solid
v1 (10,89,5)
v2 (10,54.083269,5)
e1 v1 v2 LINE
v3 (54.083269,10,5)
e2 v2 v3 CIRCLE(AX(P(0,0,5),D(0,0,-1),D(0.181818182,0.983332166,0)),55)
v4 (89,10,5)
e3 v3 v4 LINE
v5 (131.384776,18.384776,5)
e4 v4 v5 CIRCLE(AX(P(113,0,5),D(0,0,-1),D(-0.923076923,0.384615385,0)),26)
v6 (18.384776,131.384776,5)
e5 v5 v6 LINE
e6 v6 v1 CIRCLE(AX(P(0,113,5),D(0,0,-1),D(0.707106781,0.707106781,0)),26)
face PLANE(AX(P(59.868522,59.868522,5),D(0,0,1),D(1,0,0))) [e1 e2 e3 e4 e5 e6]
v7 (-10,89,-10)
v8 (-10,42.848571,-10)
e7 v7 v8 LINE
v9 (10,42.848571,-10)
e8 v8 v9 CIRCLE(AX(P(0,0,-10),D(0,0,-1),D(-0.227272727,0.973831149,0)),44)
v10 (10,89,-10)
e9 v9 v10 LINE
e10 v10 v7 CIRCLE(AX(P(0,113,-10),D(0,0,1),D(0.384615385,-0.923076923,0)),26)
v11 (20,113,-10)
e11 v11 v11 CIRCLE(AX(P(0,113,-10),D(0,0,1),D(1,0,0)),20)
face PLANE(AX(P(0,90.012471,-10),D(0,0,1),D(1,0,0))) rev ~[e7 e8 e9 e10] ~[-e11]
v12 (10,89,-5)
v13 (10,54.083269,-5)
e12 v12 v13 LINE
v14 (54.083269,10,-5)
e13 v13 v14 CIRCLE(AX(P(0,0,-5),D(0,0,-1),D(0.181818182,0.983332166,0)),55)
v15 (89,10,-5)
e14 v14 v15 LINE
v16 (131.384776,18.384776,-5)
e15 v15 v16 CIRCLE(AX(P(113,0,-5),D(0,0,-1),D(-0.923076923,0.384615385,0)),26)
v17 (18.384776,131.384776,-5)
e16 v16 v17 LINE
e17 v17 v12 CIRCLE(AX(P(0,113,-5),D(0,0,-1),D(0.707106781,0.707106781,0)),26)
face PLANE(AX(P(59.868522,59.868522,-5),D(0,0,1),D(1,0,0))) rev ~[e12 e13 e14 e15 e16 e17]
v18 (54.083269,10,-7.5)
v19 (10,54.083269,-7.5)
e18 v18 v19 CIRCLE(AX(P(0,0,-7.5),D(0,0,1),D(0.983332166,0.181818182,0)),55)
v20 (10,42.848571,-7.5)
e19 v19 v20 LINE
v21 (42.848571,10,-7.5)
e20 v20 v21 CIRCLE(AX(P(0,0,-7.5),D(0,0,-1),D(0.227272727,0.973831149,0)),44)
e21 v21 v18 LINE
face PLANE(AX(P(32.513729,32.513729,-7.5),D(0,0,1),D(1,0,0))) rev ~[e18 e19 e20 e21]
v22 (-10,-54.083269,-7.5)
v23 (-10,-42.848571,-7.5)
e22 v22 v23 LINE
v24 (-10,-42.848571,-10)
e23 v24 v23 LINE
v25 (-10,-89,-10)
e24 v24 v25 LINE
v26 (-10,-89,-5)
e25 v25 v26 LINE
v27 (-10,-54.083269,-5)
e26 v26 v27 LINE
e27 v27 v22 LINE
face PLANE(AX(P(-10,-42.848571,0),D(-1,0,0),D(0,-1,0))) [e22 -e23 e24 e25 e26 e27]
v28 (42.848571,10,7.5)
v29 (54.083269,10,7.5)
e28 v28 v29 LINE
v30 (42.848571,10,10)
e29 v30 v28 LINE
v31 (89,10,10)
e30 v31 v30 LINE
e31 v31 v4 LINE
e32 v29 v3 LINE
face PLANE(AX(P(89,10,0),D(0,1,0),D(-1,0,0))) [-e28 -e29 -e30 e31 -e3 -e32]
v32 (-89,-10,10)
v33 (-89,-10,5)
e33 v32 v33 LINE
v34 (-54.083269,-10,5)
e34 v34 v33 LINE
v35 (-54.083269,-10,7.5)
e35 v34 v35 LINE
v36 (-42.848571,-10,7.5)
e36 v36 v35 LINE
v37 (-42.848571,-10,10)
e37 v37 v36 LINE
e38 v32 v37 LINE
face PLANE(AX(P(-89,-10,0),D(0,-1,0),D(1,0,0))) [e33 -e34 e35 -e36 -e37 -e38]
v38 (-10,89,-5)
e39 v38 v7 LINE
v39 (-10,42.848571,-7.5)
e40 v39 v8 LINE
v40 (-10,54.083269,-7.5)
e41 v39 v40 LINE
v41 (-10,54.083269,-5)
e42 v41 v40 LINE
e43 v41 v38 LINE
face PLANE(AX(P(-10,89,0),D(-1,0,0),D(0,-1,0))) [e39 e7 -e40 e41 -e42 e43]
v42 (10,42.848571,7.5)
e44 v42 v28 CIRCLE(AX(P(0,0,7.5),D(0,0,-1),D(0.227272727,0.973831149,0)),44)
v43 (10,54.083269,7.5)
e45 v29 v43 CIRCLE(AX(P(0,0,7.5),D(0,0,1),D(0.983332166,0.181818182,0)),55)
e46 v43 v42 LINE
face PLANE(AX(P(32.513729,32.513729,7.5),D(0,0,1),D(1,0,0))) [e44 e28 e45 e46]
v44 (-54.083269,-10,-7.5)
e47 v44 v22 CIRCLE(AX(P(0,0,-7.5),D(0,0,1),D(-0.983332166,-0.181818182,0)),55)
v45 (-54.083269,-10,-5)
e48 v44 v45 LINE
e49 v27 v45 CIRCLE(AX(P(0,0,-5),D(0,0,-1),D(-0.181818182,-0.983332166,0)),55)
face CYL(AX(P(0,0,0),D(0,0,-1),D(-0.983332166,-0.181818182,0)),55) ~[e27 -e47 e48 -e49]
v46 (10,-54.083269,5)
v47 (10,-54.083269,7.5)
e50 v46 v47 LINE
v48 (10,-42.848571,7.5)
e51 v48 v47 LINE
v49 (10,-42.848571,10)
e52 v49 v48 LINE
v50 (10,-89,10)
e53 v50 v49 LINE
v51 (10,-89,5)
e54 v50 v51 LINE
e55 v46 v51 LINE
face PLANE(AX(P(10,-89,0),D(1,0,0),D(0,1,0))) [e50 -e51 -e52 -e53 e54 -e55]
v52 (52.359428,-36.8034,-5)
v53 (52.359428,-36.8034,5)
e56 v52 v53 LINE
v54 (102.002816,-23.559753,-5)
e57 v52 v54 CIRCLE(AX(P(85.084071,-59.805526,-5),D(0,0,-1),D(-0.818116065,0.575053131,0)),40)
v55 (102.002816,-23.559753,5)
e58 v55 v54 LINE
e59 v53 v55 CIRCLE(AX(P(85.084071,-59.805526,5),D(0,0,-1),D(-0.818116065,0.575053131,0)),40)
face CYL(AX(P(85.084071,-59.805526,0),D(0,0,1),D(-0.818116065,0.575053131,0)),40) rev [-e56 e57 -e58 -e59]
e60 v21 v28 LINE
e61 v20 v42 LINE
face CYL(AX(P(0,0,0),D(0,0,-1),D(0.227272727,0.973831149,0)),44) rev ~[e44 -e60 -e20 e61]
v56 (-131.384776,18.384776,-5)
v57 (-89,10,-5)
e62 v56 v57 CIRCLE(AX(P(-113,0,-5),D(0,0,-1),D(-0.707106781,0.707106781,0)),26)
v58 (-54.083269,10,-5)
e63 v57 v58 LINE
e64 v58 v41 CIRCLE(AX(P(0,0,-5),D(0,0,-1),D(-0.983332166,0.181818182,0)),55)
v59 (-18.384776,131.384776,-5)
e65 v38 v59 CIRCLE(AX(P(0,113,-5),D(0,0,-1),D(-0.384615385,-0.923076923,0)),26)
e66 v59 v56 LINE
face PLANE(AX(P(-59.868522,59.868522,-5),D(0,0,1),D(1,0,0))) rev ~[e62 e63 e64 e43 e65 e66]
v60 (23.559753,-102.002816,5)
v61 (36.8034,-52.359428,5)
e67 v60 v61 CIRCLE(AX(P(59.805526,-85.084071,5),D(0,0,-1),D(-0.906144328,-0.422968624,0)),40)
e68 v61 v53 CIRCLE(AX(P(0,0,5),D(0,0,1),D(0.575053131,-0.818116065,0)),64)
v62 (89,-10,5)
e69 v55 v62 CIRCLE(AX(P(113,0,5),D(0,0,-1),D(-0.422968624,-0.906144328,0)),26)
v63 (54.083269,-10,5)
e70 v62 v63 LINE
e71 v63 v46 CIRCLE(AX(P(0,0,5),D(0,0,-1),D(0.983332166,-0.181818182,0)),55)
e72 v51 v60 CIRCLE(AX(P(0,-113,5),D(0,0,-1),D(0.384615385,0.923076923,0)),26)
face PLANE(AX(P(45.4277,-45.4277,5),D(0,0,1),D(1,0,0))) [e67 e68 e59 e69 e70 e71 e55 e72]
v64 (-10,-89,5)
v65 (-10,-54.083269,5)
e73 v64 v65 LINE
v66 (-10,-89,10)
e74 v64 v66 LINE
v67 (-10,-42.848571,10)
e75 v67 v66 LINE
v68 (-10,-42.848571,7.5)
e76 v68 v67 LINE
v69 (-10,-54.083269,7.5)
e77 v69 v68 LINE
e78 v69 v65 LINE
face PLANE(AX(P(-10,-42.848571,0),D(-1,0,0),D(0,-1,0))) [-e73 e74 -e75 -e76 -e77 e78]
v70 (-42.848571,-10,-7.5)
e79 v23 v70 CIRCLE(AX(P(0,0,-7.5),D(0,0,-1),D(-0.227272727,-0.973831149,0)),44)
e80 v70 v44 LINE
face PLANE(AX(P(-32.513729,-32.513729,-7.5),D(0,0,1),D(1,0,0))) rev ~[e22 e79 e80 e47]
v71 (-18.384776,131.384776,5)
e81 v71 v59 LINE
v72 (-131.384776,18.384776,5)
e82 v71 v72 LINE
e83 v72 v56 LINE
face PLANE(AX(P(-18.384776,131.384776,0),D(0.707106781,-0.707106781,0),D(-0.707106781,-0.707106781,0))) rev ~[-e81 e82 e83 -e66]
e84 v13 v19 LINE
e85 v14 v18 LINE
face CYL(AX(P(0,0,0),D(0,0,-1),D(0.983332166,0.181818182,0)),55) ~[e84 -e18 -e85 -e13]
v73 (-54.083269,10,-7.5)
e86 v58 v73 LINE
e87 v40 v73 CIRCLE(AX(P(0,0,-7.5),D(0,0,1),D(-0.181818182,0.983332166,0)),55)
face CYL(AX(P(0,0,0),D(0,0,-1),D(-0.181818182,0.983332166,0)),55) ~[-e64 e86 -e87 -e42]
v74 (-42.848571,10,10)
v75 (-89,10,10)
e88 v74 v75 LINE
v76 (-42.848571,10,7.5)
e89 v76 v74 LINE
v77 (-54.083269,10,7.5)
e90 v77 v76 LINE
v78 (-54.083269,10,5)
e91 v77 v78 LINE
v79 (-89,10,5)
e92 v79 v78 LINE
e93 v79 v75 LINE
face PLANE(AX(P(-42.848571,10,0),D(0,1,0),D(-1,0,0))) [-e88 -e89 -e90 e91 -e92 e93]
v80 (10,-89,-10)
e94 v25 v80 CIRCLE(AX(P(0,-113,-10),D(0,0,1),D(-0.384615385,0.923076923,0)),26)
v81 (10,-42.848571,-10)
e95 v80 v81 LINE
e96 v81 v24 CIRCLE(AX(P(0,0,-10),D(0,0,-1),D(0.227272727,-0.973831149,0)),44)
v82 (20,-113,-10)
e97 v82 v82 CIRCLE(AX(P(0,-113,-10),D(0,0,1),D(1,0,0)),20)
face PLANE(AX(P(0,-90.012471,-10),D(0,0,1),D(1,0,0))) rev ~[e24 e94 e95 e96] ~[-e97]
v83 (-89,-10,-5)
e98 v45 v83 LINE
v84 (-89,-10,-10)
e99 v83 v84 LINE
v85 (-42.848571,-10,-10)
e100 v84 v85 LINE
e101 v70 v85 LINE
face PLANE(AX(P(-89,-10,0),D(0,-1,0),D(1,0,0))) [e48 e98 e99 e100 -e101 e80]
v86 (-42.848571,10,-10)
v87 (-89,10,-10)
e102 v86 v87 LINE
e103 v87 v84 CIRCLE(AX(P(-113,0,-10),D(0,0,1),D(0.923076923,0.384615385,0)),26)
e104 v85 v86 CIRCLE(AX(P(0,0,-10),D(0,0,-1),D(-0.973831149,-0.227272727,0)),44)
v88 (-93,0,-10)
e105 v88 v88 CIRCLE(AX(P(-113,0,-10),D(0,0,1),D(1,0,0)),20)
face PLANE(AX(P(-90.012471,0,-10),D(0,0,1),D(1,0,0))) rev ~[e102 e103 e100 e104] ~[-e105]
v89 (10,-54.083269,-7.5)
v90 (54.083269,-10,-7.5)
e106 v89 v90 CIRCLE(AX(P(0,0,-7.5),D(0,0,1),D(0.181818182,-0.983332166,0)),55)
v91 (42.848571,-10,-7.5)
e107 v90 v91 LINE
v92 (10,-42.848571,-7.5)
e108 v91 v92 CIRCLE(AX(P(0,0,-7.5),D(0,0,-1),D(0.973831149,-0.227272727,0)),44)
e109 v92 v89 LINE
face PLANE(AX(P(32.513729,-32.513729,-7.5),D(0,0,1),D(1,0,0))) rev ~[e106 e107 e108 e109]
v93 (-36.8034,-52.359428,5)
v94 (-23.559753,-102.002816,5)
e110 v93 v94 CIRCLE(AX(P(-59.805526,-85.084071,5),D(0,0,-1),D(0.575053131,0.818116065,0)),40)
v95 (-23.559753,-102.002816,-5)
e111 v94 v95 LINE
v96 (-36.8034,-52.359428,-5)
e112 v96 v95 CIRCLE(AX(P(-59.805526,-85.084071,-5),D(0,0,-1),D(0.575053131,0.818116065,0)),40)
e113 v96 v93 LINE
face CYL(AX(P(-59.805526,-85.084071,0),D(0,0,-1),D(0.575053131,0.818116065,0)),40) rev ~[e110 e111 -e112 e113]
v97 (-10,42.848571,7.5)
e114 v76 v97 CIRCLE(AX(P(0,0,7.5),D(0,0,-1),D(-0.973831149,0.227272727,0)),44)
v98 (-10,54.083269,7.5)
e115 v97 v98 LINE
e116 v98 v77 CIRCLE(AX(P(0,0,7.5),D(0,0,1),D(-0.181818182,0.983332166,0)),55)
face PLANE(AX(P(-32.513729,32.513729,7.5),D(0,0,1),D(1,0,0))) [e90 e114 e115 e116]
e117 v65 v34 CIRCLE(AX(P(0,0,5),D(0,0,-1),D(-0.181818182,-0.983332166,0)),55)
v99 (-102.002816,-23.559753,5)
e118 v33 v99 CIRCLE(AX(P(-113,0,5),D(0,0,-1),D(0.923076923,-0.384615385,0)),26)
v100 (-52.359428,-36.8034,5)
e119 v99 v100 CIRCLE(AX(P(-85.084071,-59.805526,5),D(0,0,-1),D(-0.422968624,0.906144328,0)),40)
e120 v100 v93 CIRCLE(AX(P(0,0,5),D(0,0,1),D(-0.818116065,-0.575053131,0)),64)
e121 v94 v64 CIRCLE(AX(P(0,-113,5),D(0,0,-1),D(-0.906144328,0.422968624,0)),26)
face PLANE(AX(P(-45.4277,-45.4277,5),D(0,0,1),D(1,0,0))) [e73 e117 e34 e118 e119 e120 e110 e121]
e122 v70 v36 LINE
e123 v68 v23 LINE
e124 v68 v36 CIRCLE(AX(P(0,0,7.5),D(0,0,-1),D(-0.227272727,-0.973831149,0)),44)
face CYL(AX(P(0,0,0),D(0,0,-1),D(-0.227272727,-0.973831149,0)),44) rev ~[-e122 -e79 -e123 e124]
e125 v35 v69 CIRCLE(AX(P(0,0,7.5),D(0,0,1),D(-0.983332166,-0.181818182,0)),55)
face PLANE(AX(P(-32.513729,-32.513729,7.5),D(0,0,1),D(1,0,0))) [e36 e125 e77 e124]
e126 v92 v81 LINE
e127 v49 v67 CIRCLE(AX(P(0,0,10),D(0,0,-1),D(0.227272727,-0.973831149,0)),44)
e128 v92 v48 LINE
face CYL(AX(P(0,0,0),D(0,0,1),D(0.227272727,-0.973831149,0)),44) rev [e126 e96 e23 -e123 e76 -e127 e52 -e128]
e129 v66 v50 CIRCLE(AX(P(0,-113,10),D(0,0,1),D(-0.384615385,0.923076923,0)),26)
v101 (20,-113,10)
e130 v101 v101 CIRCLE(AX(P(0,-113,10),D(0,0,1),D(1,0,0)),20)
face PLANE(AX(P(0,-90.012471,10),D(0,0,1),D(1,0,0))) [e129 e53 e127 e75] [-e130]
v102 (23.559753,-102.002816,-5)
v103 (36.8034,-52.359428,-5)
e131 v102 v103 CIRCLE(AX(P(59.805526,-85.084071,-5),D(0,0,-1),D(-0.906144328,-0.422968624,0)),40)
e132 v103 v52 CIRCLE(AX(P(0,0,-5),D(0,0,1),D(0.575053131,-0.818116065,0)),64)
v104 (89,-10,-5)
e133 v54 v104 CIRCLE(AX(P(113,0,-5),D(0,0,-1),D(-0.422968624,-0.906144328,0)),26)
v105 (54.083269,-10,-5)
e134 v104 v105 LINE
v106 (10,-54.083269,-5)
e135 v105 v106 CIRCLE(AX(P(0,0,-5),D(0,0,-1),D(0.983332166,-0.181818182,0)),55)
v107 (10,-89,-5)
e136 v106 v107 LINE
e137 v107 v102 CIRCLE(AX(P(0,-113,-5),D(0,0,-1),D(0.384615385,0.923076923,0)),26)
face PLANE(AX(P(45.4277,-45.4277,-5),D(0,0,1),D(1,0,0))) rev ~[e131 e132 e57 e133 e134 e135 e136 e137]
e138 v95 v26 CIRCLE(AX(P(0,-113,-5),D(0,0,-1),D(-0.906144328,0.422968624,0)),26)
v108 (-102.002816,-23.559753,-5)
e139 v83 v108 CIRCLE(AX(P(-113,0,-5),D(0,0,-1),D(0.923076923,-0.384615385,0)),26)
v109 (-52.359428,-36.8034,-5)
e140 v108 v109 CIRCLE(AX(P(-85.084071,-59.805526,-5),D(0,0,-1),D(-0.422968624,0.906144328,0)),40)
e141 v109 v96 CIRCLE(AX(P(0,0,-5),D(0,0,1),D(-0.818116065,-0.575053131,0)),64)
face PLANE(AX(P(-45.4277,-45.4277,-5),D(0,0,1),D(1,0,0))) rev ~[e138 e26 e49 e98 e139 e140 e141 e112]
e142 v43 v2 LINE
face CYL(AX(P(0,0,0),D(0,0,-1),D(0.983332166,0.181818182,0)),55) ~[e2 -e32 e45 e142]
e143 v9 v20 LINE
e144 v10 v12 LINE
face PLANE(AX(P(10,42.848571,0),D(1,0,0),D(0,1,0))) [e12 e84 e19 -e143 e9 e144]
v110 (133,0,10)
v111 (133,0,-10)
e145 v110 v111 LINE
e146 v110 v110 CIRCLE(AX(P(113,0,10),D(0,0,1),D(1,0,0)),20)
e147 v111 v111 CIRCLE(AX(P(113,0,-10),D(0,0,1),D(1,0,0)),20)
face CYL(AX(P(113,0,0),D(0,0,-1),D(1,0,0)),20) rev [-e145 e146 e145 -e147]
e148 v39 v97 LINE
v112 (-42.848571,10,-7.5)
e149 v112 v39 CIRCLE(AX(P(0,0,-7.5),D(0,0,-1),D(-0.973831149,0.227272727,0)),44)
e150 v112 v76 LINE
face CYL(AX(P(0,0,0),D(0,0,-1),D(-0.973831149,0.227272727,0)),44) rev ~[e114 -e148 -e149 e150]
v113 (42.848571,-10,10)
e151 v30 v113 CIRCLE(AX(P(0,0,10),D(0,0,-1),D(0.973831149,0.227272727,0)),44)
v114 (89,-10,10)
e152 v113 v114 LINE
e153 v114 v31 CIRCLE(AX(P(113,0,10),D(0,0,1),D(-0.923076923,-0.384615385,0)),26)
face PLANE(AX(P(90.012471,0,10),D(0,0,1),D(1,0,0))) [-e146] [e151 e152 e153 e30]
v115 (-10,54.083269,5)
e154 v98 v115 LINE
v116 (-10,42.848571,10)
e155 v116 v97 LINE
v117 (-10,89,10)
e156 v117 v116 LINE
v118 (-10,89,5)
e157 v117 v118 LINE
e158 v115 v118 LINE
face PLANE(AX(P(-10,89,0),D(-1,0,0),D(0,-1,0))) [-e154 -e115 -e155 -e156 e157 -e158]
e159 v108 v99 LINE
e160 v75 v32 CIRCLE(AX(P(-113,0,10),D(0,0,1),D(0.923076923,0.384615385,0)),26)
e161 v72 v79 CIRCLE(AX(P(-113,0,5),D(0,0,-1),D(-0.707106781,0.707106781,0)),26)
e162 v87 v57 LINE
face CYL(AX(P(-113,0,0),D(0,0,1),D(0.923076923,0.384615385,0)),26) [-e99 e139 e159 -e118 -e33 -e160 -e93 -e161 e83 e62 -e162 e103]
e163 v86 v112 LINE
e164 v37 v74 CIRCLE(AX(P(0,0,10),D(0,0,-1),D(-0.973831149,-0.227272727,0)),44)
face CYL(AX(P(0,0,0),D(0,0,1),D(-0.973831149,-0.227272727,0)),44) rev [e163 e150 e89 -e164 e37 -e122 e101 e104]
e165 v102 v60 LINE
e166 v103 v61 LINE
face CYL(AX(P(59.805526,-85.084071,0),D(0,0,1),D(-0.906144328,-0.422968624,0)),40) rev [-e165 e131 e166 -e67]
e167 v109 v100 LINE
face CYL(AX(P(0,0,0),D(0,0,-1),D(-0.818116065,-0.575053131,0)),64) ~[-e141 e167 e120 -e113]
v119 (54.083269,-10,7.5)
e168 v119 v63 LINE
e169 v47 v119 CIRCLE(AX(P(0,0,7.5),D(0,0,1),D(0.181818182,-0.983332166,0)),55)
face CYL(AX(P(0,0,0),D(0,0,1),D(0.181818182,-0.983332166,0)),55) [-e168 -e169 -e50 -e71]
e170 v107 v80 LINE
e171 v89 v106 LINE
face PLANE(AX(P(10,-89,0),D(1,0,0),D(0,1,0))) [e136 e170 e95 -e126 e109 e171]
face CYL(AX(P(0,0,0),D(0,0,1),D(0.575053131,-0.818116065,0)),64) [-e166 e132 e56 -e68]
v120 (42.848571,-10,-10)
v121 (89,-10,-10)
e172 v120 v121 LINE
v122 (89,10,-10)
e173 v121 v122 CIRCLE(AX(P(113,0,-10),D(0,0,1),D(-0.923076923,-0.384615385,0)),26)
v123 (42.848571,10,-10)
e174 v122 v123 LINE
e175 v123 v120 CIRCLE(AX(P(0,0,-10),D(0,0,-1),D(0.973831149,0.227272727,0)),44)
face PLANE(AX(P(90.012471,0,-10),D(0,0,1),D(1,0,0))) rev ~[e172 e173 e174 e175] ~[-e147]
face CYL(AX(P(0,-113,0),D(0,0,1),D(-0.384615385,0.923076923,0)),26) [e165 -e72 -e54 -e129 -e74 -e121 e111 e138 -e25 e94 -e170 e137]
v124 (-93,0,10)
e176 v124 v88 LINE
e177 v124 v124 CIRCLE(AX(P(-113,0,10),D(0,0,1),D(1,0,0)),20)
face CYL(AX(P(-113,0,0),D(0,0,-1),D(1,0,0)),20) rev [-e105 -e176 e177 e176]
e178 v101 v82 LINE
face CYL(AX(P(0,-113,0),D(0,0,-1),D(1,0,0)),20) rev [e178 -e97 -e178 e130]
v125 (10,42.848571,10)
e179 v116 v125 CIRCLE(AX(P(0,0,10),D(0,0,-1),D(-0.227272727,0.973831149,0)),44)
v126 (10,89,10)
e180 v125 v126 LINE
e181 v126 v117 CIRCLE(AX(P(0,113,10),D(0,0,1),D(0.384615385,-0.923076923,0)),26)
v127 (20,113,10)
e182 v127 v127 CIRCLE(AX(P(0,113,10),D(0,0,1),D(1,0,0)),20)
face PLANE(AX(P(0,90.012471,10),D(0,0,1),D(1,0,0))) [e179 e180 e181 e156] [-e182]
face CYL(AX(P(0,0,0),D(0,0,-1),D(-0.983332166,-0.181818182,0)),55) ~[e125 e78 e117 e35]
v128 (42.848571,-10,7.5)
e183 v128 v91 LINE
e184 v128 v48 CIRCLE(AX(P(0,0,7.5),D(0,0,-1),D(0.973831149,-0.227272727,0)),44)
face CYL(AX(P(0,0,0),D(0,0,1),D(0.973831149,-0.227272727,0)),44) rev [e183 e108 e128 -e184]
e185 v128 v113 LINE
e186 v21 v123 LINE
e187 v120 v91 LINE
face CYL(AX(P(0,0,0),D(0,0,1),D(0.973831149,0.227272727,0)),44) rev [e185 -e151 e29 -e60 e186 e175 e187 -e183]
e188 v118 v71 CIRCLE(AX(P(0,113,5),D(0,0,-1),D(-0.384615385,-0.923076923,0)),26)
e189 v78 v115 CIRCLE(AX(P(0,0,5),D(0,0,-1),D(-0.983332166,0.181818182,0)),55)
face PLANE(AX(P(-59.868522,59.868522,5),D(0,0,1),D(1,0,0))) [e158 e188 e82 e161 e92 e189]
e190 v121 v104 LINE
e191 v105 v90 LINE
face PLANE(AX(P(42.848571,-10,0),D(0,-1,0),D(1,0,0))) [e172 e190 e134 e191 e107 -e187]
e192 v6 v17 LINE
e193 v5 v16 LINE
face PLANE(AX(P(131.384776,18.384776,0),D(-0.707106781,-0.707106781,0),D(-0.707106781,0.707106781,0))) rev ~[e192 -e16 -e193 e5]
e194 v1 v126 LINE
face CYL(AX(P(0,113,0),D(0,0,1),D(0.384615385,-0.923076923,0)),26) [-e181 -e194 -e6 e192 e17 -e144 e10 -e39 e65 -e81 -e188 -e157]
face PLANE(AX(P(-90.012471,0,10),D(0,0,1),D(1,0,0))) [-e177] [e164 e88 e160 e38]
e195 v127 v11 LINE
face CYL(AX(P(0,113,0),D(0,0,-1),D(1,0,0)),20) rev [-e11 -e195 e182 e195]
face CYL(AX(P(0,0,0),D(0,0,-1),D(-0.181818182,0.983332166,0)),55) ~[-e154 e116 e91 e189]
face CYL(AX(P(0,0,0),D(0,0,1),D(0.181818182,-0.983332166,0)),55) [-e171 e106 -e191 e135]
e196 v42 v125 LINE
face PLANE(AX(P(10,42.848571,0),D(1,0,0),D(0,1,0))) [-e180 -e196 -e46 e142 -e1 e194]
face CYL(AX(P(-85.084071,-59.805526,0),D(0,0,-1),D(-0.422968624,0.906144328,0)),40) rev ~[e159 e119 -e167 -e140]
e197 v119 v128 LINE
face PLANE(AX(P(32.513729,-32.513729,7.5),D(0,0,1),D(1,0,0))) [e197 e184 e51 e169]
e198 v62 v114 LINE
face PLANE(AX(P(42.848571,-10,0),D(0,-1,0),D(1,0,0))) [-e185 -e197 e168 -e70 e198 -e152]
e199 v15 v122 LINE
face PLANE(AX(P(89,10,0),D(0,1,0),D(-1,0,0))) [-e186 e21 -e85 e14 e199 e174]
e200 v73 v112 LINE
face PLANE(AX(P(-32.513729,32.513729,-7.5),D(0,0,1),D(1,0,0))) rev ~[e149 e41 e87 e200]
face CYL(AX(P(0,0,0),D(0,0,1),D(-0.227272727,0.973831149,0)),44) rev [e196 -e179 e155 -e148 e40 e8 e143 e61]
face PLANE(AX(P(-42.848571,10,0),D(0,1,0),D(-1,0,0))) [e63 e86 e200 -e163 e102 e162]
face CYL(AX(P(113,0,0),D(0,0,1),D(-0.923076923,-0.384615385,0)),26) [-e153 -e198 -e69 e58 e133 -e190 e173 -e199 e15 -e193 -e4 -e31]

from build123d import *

# Parameters (mm, degrees)
SKETCH1_R             = 20
BOSS_EXTRUDE1_DEPTH   = 10
BOSS_EXTRUDE1_2_DEPTH = 10
BOSS_EXTRUDE1_3_DEPTH = 10
BOSS_EXTRUDE1_4_DEPTH = 10
BOSS_EXTRUDE2_DEPTH   = 7.5
BOSS_EXTRUDE3_DEPTH   = 5


with BuildPart() as part:
    # Sketch1 → Boss-Extrude1 (new, symmetric)
    with BuildSketch(Plane.XY):
        with BuildLine():
            ThreePointArc((-42.848570571, -10), (-44, 0), (-42.848570571, 10))
            Line((-42.848570571, 10), (-89, 10))
            ThreePointArc((-89, 10), (-139, 0), (-89, -10))
            Line((-89, -10), (-42.848570571, -10))
        make_face()
        with Locations((-113, 0)):
            Circle(SKETCH1_R, mode=Mode.SUBTRACT)
    extrude(amount=BOSS_EXTRUDE1_DEPTH, both=True)



with BuildPart() as body_2:
    # Sketch1 → Boss-Extrude1 2 (new, symmetric)
    with BuildSketch(Plane.XY):
        with BuildLine():
            ThreePointArc((-10, 42.848570571), (0, 44), (10, 42.848570571))
            Line((10, 42.848570571), (10, 89))
            ThreePointArc((10, 89), (0, 139), (-10, 89))
            Line((-10, 89), (-10, 42.848570571))
        make_face()
        with Locations((0, 113)):
            Circle(SKETCH1_R, mode=Mode.SUBTRACT)
    extrude(amount=BOSS_EXTRUDE1_2_DEPTH, both=True)


with BuildPart() as body_3:
    # Sketch1 → Boss-Extrude1 3 (new, symmetric)
    with BuildSketch(Plane.XY):
        with BuildLine():
            ThreePointArc((10, -42.848570571), (0, -44), (-10, -42.848570571))
            Line((-10, -42.848570571), (-10, -89))
            ThreePointArc((-10, -89), (0, -139), (10, -89))
            Line((10, -89), (10, -42.848570571))
        make_face()
        with Locations((0, -113)):
            Circle(SKETCH1_R, mode=Mode.SUBTRACT)
    extrude(amount=BOSS_EXTRUDE1_3_DEPTH, both=True)


with BuildPart() as body_4:
    # Sketch1 → Boss-Extrude1 4 (new, symmetric)
    with BuildSketch(Plane.XY):
        with BuildLine():
            ThreePointArc((42.848570571, 10), (44, 0), (42.848570571, -10))
            Line((42.848570571, -10), (89, -10))
            ThreePointArc((89, -10), (139, 0), (89, 10))
            Line((89, 10), (42.848570571, 10))
        make_face()
        with Locations((113, 0)):
            Circle(SKETCH1_R, mode=Mode.SUBTRACT)
    extrude(amount=BOSS_EXTRUDE1_4_DEPTH, both=True)


with BuildPart() as part_1:
    add(part.part)

    add(body_2.part)  # Boss-Extrude2 merges body 2

    add(body_3.part)  # Boss-Extrude2 merges body 3

    add(body_4.part)  # Boss-Extrude2 merges body 4
    # Sketch1<3> → Boss-Extrude2 (add, symmetric)
    with BuildSketch(Plane.XY):
        with BuildLine():
            Line((-54.083269132, 10), (-42.848570571, 10))
            ThreePointArc((-42.848570571, 10), (-31.112698372, 31.112698372), (-10, 42.848570571))
            Line((-10, 42.848570571), (-10, 54.083269132))
            ThreePointArc((-10, 54.083269132), (-38.890872965, 38.890872965), (-54.083269132, 10))
        make_face()
        with BuildLine():
            ThreePointArc((-10, -42.848570571), (-31.112698372, -31.112698372), (-42.848570571, -10))
            Line((-42.848570571, -10), (-54.083269132, -10))
            ThreePointArc((-54.083269132, -10), (-38.890872965, -38.890872965), (-10, -54.083269132))
            Line((-10, -54.083269132), (-10, -42.848570571))
        make_face()
        with BuildLine():
            Line((10, 54.083269132), (10, 42.848570571))
            ThreePointArc((10, 42.848570571), (31.112698372, 31.112698372), (42.848570571, 10))
            Line((42.848570571, 10), (54.083269132, 10))
            ThreePointArc((54.083269132, 10), (38.890872965, 38.890872965), (10, 54.083269132))
        make_face()
        with BuildLine():
            ThreePointArc((42.848570571, -10), (31.112698372, -31.112698372), (10, -42.848570571))
            Line((10, -42.848570571), (10, -54.083269132))
            ThreePointArc((10, -54.083269132), (38.890872965, -38.890872965), (54.083269132, -10))
            Line((54.083269132, -10), (42.848570571, -10))
        make_face()
    extrude(amount=BOSS_EXTRUDE2_DEPTH, both=True)

    # Sketch1<4> → Boss-Extrude3 (add, symmetric)
    with BuildSketch(Plane.XY):
        with BuildLine():
            Line((-89, 10), (-54.083269132, 10))
            ThreePointArc((-54.083269132, 10), (-38.890872965, 38.890872965), (-10, 54.083269132))
            Line((-10, 54.083269132), (-10, 89))
            ThreePointArc((-10, 89), (-25.505709112, 107.954328319), (-18.384776311, 131.384776311))
            Line((-18.384776311, 131.384776311), (-131.384776311, 18.384776311))
            ThreePointArc((-131.384776311, 18.384776311), (-107.954328319, 25.505709112), (-89, 10))
        make_face()
        with BuildLine():
            ThreePointArc((-10, -54.083269132), (-38.890872965, -38.890872965), (-54.083269132, -10))
            Line((-54.083269132, -10), (-89, -10))
            ThreePointArc((-89, -10), (-94.233874983, -17.995348061), (-102.002815768, -23.559752524))
            ThreePointArc((-102.002815768, -23.559752524), (-74.773631801, -21.15717706), (-52.359428182, -36.803400392))
            ThreePointArc((-52.359428182, -36.803400392), (-45.254833996, -45.254833996), (-36.803400392, -52.359428182))
            ThreePointArc((-36.803400392, -52.359428182), (-21.15717706, -74.773631801), (-23.559752524, -102.002815768))
            ThreePointArc((-23.559752524, -102.002815768), (-17.995348061, -94.233874983), (-10, -89))
            Line((-10, -89), (-10, -54.083269132))
        make_face()
        with BuildLine():
            Line((10, 89), (10, 54.083269132))
            ThreePointArc((10, 54.083269132), (38.890872965, 38.890872965), (54.083269132, 10))
            Line((54.083269132, 10), (89, 10))
            ThreePointArc((89, 10), (107.954328319, 25.505709112), (131.384776311, 18.384776311))
            Line((131.384776311, 18.384776311), (18.384776311, 131.384776311))
            ThreePointArc((18.384776311, 131.384776311), (25.505709112, 107.954328319), (10, 89))
        make_face()
        with BuildLine():
            ThreePointArc((54.083269132, -10), (38.890872965, -38.890872965), (10, -54.083269132))
            Line((10, -54.083269132), (10, -89))
            ThreePointArc((10, -89), (17.995348061, -94.233874983), (23.559752524, -102.002815768))
            ThreePointArc((23.559752524, -102.002815768), (21.15717706, -74.773631801), (36.803400392, -52.359428182))
            ThreePointArc((36.803400392, -52.359428182), (45.254833996, -45.254833996), (52.359428182, -36.803400392))
            ThreePointArc((52.359428182, -36.803400392), (74.773631801, -21.15717706), (102.002815768, -23.559752524))
            ThreePointArc((102.002815768, -23.559752524), (94.233874983, -17.995348061), (89, -10))
            Line((89, -10), (54.083269132, -10))
        make_face()
    extrude(amount=BOSS_EXTRUDE3_DEPTH, both=True)


solid = part_1.part
